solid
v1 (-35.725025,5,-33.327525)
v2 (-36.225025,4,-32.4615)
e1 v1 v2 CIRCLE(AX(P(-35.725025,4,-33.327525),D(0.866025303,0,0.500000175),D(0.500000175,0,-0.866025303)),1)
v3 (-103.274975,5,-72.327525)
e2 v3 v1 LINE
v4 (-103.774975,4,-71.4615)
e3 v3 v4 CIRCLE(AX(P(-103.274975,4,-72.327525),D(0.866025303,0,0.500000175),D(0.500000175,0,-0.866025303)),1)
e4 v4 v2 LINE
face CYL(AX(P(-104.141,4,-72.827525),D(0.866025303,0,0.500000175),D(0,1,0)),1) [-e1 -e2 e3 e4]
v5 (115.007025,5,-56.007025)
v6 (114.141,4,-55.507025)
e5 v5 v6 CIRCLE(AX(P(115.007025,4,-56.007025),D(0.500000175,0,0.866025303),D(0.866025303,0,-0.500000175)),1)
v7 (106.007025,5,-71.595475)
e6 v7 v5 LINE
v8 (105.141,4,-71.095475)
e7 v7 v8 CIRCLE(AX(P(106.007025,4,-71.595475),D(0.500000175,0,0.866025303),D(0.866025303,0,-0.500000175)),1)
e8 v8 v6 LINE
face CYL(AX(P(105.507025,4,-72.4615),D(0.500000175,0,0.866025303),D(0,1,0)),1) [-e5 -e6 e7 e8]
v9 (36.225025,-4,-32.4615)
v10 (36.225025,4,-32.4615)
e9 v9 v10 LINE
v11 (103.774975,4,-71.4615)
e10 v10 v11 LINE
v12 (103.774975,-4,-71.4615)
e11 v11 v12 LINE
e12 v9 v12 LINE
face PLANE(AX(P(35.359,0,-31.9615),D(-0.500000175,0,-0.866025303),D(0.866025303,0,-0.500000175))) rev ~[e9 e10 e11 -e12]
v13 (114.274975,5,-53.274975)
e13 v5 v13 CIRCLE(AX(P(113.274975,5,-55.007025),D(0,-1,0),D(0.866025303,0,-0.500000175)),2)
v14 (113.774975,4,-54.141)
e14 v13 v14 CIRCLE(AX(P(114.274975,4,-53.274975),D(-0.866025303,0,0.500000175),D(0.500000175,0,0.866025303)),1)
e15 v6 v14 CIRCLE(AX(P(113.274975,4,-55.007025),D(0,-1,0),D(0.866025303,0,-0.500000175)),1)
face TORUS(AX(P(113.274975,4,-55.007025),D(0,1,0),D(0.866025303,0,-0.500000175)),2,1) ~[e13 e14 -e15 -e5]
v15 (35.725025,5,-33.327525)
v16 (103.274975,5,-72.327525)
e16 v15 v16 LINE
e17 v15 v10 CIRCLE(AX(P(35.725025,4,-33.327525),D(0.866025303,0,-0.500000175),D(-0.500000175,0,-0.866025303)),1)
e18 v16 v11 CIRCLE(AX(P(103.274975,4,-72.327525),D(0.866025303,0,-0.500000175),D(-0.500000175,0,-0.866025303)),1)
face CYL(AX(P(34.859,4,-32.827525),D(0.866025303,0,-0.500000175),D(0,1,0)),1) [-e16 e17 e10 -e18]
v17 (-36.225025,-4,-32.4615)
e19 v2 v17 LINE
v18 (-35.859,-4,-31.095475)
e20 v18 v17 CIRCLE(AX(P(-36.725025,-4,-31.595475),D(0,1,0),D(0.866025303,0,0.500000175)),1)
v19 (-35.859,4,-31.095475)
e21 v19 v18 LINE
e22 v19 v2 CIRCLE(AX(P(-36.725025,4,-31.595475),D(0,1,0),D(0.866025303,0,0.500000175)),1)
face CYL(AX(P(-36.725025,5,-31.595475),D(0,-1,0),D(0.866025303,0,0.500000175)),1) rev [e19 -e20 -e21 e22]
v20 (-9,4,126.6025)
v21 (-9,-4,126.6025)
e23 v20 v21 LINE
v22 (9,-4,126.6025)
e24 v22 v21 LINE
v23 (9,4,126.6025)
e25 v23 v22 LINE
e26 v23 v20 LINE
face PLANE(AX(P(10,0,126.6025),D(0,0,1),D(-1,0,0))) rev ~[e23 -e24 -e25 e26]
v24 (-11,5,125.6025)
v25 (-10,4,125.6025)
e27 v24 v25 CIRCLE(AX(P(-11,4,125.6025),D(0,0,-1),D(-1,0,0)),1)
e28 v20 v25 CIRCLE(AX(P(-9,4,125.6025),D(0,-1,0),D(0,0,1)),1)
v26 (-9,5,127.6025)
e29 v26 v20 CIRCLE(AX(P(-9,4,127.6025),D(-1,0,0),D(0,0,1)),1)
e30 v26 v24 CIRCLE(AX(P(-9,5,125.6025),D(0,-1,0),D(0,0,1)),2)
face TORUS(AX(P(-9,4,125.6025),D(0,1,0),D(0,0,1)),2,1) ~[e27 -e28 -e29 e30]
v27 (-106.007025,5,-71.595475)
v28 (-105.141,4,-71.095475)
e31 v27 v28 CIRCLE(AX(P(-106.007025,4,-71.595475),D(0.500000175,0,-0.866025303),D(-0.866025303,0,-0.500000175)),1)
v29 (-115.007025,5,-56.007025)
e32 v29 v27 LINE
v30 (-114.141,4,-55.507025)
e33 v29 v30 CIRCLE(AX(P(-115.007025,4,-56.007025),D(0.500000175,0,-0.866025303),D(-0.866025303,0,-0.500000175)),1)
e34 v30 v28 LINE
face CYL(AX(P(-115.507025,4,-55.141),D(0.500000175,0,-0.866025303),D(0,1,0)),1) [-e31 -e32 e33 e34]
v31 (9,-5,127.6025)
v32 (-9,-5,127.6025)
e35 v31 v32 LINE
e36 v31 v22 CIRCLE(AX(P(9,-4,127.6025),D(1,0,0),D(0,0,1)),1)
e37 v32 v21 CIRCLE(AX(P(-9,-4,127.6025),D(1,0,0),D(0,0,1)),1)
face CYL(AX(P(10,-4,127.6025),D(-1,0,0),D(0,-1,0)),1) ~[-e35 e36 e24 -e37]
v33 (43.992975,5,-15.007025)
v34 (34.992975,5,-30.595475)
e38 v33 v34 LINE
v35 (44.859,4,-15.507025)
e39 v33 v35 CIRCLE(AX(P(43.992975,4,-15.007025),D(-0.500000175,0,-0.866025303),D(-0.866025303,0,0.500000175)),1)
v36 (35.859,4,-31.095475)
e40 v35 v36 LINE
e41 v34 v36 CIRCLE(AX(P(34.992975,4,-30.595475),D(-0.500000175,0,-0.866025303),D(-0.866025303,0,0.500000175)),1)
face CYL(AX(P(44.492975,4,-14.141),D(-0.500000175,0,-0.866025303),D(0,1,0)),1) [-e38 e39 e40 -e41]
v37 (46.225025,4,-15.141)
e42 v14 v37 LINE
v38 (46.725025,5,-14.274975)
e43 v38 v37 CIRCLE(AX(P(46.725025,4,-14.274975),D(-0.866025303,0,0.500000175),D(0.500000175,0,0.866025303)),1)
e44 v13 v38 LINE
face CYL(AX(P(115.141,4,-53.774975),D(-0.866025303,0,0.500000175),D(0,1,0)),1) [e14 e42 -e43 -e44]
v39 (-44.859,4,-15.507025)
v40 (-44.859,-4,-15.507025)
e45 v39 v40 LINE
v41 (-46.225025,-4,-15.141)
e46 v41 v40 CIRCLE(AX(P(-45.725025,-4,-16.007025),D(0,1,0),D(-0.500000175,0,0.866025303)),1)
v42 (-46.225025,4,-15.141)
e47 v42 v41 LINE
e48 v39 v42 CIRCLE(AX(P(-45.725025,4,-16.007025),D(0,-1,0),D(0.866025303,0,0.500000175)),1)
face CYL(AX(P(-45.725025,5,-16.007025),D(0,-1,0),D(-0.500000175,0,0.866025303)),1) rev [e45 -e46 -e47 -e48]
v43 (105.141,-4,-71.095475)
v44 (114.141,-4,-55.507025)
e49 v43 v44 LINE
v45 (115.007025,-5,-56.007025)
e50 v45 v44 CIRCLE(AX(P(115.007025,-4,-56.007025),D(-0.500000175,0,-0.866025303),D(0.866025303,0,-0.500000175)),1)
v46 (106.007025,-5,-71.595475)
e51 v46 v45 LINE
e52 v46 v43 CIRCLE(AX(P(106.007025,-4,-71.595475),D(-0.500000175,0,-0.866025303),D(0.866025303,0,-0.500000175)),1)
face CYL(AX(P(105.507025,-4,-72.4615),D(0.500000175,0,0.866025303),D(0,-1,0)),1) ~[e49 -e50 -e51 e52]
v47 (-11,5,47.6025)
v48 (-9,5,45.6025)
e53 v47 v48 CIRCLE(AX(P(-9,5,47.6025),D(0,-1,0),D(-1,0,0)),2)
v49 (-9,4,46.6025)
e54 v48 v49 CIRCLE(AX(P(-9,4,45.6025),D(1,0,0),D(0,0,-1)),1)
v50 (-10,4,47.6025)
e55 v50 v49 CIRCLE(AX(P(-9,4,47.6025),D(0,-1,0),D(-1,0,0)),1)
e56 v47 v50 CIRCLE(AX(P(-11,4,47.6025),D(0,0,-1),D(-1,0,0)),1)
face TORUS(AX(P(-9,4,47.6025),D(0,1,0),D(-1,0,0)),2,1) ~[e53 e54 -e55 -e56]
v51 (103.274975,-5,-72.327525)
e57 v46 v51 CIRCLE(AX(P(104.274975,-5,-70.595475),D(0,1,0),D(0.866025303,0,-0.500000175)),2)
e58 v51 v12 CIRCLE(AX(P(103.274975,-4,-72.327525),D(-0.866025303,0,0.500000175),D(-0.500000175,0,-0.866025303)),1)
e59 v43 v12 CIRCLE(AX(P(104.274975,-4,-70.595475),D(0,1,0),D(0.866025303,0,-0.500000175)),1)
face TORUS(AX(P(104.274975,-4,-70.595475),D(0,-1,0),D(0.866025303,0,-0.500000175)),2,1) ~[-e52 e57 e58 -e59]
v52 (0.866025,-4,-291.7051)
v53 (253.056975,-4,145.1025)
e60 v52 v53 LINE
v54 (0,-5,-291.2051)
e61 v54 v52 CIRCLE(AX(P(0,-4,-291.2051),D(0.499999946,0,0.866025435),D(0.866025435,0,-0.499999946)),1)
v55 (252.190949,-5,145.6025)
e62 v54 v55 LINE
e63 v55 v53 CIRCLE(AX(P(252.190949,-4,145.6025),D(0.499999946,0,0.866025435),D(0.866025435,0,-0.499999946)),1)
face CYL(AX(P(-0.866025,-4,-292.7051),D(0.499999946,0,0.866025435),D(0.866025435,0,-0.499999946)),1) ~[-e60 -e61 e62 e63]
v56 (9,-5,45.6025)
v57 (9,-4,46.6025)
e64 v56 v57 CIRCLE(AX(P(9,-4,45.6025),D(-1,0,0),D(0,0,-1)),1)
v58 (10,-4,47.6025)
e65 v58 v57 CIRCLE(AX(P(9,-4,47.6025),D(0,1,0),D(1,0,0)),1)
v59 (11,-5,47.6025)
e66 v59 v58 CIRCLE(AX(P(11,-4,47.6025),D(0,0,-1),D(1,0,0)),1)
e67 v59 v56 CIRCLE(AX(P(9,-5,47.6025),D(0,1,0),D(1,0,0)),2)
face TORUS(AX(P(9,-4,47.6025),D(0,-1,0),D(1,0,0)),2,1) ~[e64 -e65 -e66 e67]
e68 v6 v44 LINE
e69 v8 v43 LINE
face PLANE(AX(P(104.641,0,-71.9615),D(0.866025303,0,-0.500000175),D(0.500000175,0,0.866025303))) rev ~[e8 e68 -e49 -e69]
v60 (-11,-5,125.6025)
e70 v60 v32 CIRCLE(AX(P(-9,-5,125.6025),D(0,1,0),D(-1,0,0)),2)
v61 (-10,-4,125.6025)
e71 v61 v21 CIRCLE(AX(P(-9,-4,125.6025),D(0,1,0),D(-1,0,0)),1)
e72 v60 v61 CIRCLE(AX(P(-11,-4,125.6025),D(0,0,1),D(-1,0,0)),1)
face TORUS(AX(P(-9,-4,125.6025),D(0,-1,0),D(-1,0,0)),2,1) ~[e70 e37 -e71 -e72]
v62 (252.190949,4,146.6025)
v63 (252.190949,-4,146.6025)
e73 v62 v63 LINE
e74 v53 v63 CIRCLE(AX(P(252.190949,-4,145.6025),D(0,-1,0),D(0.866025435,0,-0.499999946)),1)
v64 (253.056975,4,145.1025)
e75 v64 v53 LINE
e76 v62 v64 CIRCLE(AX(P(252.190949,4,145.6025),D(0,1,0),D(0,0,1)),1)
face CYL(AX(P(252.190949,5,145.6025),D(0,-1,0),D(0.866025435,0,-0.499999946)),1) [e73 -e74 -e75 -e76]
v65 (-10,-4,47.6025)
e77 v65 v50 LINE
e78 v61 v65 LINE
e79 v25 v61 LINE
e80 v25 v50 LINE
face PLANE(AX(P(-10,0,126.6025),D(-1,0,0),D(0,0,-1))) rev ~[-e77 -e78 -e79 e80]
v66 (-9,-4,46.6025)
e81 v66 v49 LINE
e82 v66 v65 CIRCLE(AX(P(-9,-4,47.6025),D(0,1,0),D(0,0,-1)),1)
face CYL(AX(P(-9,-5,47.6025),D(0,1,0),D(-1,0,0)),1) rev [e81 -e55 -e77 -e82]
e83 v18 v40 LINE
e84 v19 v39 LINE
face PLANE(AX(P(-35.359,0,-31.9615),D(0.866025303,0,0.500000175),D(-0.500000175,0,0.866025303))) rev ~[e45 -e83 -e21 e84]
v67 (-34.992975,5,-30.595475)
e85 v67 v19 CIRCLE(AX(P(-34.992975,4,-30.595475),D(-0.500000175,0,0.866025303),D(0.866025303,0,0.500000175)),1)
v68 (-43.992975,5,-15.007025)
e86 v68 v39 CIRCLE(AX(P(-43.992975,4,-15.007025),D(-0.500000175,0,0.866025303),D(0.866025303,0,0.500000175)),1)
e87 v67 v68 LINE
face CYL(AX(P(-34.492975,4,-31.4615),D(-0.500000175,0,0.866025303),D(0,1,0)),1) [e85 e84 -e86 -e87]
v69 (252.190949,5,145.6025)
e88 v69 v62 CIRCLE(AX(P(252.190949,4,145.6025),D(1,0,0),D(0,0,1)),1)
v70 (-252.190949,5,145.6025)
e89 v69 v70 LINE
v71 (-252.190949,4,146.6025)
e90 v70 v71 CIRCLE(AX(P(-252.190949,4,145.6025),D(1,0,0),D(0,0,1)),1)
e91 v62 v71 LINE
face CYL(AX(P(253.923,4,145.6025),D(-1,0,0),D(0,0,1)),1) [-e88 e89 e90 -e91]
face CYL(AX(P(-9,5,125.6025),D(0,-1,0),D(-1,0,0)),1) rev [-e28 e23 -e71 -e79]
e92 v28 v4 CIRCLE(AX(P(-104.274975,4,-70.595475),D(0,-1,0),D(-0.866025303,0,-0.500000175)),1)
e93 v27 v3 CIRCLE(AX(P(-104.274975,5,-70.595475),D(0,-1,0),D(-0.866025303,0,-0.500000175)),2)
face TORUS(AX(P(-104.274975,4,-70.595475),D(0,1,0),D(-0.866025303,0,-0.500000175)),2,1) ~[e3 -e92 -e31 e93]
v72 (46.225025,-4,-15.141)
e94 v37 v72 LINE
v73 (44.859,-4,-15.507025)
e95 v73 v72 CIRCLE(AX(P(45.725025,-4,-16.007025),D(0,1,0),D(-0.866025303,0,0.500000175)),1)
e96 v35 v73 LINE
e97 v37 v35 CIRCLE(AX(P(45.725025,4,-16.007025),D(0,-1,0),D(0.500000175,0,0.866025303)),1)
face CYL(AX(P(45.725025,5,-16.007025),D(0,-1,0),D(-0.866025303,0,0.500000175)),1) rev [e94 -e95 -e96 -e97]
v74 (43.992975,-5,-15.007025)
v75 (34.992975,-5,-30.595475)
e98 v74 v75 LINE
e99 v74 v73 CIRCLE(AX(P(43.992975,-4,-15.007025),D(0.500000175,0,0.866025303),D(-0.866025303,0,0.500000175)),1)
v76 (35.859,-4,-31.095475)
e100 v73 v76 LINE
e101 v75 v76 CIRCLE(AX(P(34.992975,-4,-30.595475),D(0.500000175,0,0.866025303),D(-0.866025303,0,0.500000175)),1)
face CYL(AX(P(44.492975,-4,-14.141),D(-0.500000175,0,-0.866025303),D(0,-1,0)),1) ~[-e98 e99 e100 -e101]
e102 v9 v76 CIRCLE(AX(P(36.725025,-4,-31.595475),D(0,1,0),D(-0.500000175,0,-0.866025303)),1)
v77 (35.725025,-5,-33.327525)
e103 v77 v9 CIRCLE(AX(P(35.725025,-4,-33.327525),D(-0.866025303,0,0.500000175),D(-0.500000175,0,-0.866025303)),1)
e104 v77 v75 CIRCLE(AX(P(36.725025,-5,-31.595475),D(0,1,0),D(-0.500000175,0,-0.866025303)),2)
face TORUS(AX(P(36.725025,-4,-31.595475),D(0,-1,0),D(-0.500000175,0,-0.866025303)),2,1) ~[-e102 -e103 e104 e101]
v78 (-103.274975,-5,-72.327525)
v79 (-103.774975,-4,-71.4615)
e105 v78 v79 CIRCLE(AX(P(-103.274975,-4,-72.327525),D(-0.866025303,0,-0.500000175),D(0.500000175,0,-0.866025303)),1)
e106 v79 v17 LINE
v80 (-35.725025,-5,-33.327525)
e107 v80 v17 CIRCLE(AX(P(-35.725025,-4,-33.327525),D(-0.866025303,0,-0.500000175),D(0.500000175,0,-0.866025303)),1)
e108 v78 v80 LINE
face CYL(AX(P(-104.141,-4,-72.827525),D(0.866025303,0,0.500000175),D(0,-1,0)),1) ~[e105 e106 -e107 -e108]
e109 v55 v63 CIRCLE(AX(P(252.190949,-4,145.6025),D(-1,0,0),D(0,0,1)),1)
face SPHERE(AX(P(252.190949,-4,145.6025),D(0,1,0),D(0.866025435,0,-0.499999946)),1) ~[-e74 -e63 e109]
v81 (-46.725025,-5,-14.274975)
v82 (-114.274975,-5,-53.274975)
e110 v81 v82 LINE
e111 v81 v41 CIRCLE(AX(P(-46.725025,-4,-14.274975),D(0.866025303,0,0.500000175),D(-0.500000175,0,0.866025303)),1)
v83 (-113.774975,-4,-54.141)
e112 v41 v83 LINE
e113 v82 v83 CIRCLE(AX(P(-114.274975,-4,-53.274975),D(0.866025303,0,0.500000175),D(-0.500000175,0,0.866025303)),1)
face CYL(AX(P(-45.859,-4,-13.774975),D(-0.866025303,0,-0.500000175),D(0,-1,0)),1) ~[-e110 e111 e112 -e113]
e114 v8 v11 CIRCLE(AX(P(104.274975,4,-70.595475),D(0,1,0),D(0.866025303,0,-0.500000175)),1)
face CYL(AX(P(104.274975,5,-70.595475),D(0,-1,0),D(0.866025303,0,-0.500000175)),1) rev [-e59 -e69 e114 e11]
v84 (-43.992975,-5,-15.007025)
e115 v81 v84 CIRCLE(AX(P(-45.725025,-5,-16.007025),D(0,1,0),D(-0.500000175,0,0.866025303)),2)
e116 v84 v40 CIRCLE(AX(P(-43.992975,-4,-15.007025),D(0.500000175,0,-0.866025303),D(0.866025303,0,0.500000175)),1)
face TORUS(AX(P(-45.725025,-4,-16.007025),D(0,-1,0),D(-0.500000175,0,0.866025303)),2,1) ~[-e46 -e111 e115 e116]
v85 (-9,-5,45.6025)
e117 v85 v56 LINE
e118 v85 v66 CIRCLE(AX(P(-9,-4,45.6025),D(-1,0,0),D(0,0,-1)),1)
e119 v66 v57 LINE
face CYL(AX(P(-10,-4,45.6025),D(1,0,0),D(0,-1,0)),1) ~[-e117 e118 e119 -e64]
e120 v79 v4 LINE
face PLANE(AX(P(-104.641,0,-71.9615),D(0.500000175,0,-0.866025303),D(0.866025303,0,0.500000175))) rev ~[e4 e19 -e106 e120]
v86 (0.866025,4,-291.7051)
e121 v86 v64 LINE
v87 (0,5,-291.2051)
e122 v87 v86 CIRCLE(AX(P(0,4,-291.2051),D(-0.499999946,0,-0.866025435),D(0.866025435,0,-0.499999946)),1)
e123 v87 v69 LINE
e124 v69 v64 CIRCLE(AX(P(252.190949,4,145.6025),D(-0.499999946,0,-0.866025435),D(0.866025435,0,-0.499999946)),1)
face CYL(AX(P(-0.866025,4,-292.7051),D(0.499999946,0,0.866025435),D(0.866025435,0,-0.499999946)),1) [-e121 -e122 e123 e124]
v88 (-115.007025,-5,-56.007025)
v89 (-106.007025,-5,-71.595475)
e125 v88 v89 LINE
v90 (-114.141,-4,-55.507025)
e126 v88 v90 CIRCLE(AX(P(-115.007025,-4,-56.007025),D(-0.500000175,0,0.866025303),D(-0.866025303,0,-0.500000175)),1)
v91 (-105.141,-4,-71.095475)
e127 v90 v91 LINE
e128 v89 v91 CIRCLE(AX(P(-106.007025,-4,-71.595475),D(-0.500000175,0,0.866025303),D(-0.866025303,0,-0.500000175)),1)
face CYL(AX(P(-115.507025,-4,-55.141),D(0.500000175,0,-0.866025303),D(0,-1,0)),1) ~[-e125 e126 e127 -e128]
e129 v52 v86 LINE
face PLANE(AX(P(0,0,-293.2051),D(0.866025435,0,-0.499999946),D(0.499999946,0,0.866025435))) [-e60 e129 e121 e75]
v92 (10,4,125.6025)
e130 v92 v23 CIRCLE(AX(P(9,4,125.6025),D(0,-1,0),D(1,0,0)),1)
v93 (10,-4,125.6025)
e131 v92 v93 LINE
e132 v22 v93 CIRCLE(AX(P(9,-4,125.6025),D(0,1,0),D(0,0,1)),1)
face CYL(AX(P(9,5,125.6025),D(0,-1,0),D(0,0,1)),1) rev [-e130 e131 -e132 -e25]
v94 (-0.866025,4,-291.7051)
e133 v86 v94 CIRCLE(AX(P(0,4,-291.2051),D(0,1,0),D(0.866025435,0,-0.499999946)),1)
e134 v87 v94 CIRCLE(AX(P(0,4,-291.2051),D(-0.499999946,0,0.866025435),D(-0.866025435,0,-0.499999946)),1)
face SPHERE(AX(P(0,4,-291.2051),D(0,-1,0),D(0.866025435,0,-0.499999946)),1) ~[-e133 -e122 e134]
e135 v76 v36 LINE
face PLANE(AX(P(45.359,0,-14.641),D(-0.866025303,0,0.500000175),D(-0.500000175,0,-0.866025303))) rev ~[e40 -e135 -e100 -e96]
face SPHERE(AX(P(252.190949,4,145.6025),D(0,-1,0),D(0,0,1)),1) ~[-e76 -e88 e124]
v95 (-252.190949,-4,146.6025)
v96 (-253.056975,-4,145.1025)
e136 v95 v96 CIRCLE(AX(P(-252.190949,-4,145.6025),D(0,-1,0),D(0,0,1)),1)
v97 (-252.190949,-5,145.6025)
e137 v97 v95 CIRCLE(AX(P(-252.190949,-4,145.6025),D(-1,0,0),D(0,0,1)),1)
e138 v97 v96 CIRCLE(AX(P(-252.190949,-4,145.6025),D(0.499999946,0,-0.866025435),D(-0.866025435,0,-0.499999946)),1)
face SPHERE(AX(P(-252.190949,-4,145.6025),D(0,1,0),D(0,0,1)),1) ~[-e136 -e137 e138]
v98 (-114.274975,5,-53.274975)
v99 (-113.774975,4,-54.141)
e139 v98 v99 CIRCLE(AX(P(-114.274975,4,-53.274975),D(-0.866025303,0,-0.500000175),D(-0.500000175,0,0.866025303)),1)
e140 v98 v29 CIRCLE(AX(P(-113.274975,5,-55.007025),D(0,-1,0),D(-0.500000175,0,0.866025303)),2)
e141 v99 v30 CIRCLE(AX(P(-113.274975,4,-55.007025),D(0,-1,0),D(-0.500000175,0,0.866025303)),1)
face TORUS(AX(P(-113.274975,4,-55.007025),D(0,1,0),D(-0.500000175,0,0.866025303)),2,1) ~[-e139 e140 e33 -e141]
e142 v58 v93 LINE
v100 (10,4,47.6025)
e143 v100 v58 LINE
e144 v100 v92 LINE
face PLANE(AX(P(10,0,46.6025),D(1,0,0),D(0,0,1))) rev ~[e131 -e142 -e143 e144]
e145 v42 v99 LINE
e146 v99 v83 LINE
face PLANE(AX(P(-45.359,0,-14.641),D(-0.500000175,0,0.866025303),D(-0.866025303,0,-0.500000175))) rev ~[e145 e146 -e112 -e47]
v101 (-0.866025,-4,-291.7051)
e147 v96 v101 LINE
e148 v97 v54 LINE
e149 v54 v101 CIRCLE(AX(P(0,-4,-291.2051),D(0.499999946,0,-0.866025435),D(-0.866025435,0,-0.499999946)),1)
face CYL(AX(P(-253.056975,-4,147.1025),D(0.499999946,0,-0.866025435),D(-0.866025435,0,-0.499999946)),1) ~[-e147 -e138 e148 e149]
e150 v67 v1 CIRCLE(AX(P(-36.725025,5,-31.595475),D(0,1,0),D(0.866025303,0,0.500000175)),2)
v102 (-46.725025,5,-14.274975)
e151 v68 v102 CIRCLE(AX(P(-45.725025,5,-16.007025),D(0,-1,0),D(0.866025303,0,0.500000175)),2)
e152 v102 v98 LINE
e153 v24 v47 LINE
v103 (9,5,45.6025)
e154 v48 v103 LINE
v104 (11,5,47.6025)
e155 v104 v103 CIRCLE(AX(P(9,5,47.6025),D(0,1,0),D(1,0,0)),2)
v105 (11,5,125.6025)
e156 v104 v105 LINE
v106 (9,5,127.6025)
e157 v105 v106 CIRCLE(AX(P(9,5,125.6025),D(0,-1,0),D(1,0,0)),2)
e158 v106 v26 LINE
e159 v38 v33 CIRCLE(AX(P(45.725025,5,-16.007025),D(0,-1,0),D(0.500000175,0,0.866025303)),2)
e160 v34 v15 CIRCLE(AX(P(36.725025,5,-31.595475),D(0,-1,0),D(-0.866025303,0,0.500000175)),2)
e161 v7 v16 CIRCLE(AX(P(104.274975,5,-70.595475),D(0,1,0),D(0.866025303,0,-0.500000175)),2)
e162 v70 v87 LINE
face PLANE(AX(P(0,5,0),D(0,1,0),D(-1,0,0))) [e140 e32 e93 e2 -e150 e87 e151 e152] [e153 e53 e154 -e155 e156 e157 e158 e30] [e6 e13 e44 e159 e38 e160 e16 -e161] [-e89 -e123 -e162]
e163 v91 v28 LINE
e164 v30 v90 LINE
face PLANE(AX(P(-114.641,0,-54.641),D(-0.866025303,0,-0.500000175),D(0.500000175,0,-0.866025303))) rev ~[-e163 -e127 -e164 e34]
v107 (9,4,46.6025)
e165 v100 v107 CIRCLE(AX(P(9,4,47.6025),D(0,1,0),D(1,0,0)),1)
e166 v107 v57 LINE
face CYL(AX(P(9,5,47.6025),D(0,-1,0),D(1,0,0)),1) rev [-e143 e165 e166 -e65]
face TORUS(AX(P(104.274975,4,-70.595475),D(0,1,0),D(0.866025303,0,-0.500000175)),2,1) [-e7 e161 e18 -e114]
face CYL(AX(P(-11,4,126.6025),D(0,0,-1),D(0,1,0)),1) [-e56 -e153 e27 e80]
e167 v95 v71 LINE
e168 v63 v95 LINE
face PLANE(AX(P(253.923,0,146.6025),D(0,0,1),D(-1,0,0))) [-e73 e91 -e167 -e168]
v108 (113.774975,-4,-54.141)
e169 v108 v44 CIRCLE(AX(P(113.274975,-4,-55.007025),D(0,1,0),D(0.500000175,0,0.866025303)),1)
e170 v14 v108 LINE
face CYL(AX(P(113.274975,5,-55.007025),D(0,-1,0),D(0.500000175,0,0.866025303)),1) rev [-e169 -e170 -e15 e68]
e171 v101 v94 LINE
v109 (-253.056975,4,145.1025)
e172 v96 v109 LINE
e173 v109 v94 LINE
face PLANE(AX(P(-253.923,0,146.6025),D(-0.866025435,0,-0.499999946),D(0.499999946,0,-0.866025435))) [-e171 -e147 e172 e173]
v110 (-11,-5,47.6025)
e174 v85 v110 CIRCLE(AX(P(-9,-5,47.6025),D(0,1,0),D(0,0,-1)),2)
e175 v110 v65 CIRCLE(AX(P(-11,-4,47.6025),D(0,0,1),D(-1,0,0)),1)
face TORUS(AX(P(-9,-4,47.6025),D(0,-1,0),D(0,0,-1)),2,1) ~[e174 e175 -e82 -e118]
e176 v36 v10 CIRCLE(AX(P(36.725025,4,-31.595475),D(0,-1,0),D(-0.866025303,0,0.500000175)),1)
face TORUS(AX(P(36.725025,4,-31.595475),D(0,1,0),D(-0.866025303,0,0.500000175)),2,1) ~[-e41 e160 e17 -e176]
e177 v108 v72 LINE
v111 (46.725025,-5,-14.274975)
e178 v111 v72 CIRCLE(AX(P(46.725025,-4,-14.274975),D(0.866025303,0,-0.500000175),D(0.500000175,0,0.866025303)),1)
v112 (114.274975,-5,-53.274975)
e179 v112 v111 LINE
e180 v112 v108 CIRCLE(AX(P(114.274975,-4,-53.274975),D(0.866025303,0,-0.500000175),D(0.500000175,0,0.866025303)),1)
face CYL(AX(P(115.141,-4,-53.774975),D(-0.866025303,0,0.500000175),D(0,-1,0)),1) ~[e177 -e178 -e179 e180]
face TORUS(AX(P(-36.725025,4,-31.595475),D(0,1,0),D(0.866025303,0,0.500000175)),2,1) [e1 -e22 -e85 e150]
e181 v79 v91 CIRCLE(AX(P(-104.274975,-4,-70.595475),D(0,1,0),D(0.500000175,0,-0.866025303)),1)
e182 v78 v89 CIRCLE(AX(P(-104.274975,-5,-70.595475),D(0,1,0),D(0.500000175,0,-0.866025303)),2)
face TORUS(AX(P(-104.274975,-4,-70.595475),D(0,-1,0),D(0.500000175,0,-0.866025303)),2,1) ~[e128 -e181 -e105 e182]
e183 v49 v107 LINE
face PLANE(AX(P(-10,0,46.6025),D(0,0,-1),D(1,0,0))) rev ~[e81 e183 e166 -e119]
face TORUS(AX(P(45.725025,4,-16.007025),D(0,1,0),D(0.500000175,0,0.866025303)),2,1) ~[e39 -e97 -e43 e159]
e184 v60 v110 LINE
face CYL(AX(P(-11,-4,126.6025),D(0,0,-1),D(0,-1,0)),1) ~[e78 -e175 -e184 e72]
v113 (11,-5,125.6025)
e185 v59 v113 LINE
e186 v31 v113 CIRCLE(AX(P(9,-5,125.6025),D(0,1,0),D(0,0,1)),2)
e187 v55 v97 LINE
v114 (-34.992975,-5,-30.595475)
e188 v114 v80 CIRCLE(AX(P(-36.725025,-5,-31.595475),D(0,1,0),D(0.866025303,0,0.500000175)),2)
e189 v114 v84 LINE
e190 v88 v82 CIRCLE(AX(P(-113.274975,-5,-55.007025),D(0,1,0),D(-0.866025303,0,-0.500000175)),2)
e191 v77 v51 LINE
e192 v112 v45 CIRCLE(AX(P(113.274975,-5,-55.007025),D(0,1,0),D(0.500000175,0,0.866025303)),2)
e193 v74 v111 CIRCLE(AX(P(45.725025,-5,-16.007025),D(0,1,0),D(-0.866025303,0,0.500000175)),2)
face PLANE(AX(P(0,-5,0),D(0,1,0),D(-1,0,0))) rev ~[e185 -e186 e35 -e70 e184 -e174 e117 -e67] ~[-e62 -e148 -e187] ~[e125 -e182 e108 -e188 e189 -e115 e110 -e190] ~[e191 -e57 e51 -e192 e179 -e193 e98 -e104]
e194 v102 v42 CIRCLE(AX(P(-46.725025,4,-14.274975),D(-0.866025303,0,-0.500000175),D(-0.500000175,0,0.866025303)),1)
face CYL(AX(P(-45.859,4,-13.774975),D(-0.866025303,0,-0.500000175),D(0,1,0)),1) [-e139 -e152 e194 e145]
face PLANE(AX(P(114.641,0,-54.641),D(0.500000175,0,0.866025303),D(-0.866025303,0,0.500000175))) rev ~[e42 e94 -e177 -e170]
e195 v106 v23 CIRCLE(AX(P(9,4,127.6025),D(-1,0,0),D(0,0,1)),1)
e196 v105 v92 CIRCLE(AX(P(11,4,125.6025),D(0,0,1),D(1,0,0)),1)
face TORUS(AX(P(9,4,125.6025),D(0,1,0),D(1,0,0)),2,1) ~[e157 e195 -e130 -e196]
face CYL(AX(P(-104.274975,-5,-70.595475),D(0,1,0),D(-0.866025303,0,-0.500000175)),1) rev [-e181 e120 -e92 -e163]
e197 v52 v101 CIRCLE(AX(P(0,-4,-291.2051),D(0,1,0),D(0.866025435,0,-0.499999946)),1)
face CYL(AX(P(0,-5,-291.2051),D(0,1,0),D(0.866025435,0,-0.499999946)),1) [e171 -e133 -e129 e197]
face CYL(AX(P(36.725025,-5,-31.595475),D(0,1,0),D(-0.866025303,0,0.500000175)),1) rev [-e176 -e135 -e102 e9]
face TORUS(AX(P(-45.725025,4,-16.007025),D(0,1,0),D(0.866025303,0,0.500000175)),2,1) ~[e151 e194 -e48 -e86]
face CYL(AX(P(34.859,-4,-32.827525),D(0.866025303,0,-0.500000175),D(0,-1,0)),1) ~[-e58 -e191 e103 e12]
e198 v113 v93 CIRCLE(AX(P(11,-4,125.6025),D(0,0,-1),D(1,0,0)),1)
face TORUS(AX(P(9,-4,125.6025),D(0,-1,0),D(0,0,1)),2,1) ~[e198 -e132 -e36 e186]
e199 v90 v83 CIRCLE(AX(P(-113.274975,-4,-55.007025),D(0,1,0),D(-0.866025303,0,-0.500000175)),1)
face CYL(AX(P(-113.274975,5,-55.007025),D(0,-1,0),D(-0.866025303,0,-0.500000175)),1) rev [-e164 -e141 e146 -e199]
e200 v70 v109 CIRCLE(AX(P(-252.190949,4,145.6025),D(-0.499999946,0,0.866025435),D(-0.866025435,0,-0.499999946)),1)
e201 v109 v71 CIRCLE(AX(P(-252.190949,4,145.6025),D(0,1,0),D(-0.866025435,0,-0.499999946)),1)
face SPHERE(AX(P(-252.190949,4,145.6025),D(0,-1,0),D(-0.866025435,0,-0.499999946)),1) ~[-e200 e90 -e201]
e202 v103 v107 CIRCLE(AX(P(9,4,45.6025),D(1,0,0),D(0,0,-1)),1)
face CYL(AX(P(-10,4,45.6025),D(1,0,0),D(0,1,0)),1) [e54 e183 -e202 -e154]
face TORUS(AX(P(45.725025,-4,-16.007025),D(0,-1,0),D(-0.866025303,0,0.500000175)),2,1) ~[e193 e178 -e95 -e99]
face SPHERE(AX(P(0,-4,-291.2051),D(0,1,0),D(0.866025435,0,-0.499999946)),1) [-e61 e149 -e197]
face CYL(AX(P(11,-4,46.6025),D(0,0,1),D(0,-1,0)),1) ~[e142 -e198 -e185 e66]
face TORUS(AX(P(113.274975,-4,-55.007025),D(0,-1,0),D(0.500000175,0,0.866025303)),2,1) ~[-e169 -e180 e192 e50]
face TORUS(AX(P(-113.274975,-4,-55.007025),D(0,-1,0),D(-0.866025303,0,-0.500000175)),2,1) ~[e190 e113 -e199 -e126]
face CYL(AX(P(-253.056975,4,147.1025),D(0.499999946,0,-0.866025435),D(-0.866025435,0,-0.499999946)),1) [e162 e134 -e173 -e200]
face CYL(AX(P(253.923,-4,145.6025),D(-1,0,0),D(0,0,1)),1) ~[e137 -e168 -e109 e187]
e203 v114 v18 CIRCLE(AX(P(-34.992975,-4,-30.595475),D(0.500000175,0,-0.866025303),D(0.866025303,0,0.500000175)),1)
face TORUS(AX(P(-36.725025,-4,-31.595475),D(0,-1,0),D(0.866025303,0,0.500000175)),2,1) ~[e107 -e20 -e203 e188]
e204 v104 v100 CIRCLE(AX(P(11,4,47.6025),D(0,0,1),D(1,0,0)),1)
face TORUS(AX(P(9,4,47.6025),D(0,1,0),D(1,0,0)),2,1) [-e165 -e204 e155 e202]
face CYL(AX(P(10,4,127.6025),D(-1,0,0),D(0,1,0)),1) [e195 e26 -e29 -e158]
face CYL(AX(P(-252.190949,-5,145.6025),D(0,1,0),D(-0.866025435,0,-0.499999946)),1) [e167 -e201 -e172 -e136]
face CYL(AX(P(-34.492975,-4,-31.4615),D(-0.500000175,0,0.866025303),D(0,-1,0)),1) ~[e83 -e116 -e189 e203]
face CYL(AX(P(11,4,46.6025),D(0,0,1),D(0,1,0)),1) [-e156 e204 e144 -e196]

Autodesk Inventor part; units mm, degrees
ref_plane "YZ Plane" through (0, 0, 0) normal (1, 0, 0) x (0, 1, 0)
ref_plane "XZ Plane" through (0, 0, 0) normal (0, 1, 0) x (-1, 0, 0)
ref_plane "XY Plane" through (0, 0, 0) normal (0, 0, 1) x (1, 0, 0)
sketch "Sketch1" plane through (0, 0, 0) normal (0, 1, 0) x (-1, 0, 0)
  line L0 (0, -173.2051) -> (150, 86.6025) construction
  line L1 (150, 86.6025) -> (-150, 86.6025) construction
  line L2 (-150, 86.6025) -> (0, -173.2051) construction
  line L3 (0, -169.0715) -> (0, 107.349) construction
  line L4 (10, 46.6025) -> (-10, 46.6025)
  line L5 (-10, 46.6025) -> (-10, 126.6025)
  line L6 (-10, 126.6025) -> (10, 126.6025)
  line L7 (10, 126.6025) -> (10, 46.6025)
  line L8 (0, -293.2051) -> (-253.923, 146.6025)
  line L9 (-253.923, 146.6025) -> (253.923, 146.6025)
  line L10 (253.923, 146.6025) -> (0, -293.2051)
  line L11 (104.641, -71.9615) -> (35.359, -31.9615)
  line L12 (35.359, -31.9615) -> (45.359, -14.641)
  line L13 (45.359, -14.641) -> (114.641, -54.641)
  line L14 (114.641, -54.641) -> (104.641, -71.9615)
  line L15 (-35.359, -31.9615) -> (-104.641, -71.9615)
  line L16 (-104.641, -71.9615) -> (-114.641, -54.641)
  line L17 (-114.641, -54.641) -> (-45.359, -14.641)
  line L18 (-45.359, -14.641) -> (-35.359, -31.9615)
  line L19 (54.4642, -31.4449) -> (-94.6243, 54.6314) construction
  line L20 (94.7911, 54.7276) -> (-53.1844, -30.706) construction
  point P0 (0, 0)
  dimension "SlotWidth" = 20
  dimension "SlotHeight" = 80
  dimension "SlotHeightCenterline" = 40
  dimension "d8" = 80
  dimension "d9" = 20
  dimension "d10" = 40
  dimension "EdgeThickness" = 20
  dimension "d12" = 20
  dimension "d13" = 80
  dimension "d14" = 20
  dimension "d15" = 40
  dimension "d16" = 20
  dimension "BasePlateWidth" = 507.8461
  dimension "BaseCenterline" = 150
  dimension "d24" = 150
extrude "Extrusion1" add sketch "Sketch1" along normal mid plane 10
fillet "Fillet1" radius 1 45 edges at (104.641, 0, -71.9615) (109.641, -5, -63.3013) (114.641, 0, -54.641) (109.641, 5, -63.3013) (80, -5, -34.641) (45.359, 0, -14.641) (80, 5, -34.641) (40.359, -5, -23.3013) (35.359, 0, -31.9615) (40.359, 5, -23.3013) (70, -5, -51.9615) (70, 5, -51.9615) (-35.359, 0, -31.9615) (-40.359, -5, -23.3013) (-45.359, 0, -14.641) (-40.359, 5, -23.3013) (-80, -5, -34.641) (-114.641, 0, -54.641) (-80, 5, -34.641) (-109.641, -5, -63.3013) (-104.641, 0, -71.9615) (-109.641, 5, -63.3013) (-70, -5, -51.9615) (-70, 5, -51.9615) (10, 0, 46.6025) (10, -5, 86.6025) (10, 0, 126.6025) (10, 5, 86.6025) (0, -5, 126.6025) (-10, 0, 126.6025) (0, 5, 126.6025) (-10, -5, 86.6025) (-10, 0, 46.6025) (-10, 5, 86.6025) (0, -5, 46.6025) (0, 5, 46.6025) (126.9615, -5, -73.3013) (0, -5, 146.6025) (-126.9615, -5, -73.3013) (253.923, 0, 146.6025) (0, 5, 146.6025) (-253.923, 0, 146.6025) (-126.9615, 5, -73.3013) (0, 0, -293.2051) (126.9615, 5, -73.3013)
equation "\"SlotHeightCenterline\" = 0.5 * SlotHeight"
equation "\"d8\" = SlotHeight"
equation "\"d9\" = SlotWidth"
equation "\"d10\" = SlotHeightCenterline"
equation "\"d12\" = EdgeThickness"
equation "\"d13\" = SlotHeight"
equation "\"d14\" = SlotWidth"
equation "\"d15\" = SlotHeightCenterline"
equation "\"d16\" = EdgeThickness"
equation "\"BaseCenterline\" = 0.5 * BaseLength"
equation "\"d24\" = BaseCenterline"
equation "\"BaseLength\" = 300"
properties part number "BASE001 - 300mm Plate"
